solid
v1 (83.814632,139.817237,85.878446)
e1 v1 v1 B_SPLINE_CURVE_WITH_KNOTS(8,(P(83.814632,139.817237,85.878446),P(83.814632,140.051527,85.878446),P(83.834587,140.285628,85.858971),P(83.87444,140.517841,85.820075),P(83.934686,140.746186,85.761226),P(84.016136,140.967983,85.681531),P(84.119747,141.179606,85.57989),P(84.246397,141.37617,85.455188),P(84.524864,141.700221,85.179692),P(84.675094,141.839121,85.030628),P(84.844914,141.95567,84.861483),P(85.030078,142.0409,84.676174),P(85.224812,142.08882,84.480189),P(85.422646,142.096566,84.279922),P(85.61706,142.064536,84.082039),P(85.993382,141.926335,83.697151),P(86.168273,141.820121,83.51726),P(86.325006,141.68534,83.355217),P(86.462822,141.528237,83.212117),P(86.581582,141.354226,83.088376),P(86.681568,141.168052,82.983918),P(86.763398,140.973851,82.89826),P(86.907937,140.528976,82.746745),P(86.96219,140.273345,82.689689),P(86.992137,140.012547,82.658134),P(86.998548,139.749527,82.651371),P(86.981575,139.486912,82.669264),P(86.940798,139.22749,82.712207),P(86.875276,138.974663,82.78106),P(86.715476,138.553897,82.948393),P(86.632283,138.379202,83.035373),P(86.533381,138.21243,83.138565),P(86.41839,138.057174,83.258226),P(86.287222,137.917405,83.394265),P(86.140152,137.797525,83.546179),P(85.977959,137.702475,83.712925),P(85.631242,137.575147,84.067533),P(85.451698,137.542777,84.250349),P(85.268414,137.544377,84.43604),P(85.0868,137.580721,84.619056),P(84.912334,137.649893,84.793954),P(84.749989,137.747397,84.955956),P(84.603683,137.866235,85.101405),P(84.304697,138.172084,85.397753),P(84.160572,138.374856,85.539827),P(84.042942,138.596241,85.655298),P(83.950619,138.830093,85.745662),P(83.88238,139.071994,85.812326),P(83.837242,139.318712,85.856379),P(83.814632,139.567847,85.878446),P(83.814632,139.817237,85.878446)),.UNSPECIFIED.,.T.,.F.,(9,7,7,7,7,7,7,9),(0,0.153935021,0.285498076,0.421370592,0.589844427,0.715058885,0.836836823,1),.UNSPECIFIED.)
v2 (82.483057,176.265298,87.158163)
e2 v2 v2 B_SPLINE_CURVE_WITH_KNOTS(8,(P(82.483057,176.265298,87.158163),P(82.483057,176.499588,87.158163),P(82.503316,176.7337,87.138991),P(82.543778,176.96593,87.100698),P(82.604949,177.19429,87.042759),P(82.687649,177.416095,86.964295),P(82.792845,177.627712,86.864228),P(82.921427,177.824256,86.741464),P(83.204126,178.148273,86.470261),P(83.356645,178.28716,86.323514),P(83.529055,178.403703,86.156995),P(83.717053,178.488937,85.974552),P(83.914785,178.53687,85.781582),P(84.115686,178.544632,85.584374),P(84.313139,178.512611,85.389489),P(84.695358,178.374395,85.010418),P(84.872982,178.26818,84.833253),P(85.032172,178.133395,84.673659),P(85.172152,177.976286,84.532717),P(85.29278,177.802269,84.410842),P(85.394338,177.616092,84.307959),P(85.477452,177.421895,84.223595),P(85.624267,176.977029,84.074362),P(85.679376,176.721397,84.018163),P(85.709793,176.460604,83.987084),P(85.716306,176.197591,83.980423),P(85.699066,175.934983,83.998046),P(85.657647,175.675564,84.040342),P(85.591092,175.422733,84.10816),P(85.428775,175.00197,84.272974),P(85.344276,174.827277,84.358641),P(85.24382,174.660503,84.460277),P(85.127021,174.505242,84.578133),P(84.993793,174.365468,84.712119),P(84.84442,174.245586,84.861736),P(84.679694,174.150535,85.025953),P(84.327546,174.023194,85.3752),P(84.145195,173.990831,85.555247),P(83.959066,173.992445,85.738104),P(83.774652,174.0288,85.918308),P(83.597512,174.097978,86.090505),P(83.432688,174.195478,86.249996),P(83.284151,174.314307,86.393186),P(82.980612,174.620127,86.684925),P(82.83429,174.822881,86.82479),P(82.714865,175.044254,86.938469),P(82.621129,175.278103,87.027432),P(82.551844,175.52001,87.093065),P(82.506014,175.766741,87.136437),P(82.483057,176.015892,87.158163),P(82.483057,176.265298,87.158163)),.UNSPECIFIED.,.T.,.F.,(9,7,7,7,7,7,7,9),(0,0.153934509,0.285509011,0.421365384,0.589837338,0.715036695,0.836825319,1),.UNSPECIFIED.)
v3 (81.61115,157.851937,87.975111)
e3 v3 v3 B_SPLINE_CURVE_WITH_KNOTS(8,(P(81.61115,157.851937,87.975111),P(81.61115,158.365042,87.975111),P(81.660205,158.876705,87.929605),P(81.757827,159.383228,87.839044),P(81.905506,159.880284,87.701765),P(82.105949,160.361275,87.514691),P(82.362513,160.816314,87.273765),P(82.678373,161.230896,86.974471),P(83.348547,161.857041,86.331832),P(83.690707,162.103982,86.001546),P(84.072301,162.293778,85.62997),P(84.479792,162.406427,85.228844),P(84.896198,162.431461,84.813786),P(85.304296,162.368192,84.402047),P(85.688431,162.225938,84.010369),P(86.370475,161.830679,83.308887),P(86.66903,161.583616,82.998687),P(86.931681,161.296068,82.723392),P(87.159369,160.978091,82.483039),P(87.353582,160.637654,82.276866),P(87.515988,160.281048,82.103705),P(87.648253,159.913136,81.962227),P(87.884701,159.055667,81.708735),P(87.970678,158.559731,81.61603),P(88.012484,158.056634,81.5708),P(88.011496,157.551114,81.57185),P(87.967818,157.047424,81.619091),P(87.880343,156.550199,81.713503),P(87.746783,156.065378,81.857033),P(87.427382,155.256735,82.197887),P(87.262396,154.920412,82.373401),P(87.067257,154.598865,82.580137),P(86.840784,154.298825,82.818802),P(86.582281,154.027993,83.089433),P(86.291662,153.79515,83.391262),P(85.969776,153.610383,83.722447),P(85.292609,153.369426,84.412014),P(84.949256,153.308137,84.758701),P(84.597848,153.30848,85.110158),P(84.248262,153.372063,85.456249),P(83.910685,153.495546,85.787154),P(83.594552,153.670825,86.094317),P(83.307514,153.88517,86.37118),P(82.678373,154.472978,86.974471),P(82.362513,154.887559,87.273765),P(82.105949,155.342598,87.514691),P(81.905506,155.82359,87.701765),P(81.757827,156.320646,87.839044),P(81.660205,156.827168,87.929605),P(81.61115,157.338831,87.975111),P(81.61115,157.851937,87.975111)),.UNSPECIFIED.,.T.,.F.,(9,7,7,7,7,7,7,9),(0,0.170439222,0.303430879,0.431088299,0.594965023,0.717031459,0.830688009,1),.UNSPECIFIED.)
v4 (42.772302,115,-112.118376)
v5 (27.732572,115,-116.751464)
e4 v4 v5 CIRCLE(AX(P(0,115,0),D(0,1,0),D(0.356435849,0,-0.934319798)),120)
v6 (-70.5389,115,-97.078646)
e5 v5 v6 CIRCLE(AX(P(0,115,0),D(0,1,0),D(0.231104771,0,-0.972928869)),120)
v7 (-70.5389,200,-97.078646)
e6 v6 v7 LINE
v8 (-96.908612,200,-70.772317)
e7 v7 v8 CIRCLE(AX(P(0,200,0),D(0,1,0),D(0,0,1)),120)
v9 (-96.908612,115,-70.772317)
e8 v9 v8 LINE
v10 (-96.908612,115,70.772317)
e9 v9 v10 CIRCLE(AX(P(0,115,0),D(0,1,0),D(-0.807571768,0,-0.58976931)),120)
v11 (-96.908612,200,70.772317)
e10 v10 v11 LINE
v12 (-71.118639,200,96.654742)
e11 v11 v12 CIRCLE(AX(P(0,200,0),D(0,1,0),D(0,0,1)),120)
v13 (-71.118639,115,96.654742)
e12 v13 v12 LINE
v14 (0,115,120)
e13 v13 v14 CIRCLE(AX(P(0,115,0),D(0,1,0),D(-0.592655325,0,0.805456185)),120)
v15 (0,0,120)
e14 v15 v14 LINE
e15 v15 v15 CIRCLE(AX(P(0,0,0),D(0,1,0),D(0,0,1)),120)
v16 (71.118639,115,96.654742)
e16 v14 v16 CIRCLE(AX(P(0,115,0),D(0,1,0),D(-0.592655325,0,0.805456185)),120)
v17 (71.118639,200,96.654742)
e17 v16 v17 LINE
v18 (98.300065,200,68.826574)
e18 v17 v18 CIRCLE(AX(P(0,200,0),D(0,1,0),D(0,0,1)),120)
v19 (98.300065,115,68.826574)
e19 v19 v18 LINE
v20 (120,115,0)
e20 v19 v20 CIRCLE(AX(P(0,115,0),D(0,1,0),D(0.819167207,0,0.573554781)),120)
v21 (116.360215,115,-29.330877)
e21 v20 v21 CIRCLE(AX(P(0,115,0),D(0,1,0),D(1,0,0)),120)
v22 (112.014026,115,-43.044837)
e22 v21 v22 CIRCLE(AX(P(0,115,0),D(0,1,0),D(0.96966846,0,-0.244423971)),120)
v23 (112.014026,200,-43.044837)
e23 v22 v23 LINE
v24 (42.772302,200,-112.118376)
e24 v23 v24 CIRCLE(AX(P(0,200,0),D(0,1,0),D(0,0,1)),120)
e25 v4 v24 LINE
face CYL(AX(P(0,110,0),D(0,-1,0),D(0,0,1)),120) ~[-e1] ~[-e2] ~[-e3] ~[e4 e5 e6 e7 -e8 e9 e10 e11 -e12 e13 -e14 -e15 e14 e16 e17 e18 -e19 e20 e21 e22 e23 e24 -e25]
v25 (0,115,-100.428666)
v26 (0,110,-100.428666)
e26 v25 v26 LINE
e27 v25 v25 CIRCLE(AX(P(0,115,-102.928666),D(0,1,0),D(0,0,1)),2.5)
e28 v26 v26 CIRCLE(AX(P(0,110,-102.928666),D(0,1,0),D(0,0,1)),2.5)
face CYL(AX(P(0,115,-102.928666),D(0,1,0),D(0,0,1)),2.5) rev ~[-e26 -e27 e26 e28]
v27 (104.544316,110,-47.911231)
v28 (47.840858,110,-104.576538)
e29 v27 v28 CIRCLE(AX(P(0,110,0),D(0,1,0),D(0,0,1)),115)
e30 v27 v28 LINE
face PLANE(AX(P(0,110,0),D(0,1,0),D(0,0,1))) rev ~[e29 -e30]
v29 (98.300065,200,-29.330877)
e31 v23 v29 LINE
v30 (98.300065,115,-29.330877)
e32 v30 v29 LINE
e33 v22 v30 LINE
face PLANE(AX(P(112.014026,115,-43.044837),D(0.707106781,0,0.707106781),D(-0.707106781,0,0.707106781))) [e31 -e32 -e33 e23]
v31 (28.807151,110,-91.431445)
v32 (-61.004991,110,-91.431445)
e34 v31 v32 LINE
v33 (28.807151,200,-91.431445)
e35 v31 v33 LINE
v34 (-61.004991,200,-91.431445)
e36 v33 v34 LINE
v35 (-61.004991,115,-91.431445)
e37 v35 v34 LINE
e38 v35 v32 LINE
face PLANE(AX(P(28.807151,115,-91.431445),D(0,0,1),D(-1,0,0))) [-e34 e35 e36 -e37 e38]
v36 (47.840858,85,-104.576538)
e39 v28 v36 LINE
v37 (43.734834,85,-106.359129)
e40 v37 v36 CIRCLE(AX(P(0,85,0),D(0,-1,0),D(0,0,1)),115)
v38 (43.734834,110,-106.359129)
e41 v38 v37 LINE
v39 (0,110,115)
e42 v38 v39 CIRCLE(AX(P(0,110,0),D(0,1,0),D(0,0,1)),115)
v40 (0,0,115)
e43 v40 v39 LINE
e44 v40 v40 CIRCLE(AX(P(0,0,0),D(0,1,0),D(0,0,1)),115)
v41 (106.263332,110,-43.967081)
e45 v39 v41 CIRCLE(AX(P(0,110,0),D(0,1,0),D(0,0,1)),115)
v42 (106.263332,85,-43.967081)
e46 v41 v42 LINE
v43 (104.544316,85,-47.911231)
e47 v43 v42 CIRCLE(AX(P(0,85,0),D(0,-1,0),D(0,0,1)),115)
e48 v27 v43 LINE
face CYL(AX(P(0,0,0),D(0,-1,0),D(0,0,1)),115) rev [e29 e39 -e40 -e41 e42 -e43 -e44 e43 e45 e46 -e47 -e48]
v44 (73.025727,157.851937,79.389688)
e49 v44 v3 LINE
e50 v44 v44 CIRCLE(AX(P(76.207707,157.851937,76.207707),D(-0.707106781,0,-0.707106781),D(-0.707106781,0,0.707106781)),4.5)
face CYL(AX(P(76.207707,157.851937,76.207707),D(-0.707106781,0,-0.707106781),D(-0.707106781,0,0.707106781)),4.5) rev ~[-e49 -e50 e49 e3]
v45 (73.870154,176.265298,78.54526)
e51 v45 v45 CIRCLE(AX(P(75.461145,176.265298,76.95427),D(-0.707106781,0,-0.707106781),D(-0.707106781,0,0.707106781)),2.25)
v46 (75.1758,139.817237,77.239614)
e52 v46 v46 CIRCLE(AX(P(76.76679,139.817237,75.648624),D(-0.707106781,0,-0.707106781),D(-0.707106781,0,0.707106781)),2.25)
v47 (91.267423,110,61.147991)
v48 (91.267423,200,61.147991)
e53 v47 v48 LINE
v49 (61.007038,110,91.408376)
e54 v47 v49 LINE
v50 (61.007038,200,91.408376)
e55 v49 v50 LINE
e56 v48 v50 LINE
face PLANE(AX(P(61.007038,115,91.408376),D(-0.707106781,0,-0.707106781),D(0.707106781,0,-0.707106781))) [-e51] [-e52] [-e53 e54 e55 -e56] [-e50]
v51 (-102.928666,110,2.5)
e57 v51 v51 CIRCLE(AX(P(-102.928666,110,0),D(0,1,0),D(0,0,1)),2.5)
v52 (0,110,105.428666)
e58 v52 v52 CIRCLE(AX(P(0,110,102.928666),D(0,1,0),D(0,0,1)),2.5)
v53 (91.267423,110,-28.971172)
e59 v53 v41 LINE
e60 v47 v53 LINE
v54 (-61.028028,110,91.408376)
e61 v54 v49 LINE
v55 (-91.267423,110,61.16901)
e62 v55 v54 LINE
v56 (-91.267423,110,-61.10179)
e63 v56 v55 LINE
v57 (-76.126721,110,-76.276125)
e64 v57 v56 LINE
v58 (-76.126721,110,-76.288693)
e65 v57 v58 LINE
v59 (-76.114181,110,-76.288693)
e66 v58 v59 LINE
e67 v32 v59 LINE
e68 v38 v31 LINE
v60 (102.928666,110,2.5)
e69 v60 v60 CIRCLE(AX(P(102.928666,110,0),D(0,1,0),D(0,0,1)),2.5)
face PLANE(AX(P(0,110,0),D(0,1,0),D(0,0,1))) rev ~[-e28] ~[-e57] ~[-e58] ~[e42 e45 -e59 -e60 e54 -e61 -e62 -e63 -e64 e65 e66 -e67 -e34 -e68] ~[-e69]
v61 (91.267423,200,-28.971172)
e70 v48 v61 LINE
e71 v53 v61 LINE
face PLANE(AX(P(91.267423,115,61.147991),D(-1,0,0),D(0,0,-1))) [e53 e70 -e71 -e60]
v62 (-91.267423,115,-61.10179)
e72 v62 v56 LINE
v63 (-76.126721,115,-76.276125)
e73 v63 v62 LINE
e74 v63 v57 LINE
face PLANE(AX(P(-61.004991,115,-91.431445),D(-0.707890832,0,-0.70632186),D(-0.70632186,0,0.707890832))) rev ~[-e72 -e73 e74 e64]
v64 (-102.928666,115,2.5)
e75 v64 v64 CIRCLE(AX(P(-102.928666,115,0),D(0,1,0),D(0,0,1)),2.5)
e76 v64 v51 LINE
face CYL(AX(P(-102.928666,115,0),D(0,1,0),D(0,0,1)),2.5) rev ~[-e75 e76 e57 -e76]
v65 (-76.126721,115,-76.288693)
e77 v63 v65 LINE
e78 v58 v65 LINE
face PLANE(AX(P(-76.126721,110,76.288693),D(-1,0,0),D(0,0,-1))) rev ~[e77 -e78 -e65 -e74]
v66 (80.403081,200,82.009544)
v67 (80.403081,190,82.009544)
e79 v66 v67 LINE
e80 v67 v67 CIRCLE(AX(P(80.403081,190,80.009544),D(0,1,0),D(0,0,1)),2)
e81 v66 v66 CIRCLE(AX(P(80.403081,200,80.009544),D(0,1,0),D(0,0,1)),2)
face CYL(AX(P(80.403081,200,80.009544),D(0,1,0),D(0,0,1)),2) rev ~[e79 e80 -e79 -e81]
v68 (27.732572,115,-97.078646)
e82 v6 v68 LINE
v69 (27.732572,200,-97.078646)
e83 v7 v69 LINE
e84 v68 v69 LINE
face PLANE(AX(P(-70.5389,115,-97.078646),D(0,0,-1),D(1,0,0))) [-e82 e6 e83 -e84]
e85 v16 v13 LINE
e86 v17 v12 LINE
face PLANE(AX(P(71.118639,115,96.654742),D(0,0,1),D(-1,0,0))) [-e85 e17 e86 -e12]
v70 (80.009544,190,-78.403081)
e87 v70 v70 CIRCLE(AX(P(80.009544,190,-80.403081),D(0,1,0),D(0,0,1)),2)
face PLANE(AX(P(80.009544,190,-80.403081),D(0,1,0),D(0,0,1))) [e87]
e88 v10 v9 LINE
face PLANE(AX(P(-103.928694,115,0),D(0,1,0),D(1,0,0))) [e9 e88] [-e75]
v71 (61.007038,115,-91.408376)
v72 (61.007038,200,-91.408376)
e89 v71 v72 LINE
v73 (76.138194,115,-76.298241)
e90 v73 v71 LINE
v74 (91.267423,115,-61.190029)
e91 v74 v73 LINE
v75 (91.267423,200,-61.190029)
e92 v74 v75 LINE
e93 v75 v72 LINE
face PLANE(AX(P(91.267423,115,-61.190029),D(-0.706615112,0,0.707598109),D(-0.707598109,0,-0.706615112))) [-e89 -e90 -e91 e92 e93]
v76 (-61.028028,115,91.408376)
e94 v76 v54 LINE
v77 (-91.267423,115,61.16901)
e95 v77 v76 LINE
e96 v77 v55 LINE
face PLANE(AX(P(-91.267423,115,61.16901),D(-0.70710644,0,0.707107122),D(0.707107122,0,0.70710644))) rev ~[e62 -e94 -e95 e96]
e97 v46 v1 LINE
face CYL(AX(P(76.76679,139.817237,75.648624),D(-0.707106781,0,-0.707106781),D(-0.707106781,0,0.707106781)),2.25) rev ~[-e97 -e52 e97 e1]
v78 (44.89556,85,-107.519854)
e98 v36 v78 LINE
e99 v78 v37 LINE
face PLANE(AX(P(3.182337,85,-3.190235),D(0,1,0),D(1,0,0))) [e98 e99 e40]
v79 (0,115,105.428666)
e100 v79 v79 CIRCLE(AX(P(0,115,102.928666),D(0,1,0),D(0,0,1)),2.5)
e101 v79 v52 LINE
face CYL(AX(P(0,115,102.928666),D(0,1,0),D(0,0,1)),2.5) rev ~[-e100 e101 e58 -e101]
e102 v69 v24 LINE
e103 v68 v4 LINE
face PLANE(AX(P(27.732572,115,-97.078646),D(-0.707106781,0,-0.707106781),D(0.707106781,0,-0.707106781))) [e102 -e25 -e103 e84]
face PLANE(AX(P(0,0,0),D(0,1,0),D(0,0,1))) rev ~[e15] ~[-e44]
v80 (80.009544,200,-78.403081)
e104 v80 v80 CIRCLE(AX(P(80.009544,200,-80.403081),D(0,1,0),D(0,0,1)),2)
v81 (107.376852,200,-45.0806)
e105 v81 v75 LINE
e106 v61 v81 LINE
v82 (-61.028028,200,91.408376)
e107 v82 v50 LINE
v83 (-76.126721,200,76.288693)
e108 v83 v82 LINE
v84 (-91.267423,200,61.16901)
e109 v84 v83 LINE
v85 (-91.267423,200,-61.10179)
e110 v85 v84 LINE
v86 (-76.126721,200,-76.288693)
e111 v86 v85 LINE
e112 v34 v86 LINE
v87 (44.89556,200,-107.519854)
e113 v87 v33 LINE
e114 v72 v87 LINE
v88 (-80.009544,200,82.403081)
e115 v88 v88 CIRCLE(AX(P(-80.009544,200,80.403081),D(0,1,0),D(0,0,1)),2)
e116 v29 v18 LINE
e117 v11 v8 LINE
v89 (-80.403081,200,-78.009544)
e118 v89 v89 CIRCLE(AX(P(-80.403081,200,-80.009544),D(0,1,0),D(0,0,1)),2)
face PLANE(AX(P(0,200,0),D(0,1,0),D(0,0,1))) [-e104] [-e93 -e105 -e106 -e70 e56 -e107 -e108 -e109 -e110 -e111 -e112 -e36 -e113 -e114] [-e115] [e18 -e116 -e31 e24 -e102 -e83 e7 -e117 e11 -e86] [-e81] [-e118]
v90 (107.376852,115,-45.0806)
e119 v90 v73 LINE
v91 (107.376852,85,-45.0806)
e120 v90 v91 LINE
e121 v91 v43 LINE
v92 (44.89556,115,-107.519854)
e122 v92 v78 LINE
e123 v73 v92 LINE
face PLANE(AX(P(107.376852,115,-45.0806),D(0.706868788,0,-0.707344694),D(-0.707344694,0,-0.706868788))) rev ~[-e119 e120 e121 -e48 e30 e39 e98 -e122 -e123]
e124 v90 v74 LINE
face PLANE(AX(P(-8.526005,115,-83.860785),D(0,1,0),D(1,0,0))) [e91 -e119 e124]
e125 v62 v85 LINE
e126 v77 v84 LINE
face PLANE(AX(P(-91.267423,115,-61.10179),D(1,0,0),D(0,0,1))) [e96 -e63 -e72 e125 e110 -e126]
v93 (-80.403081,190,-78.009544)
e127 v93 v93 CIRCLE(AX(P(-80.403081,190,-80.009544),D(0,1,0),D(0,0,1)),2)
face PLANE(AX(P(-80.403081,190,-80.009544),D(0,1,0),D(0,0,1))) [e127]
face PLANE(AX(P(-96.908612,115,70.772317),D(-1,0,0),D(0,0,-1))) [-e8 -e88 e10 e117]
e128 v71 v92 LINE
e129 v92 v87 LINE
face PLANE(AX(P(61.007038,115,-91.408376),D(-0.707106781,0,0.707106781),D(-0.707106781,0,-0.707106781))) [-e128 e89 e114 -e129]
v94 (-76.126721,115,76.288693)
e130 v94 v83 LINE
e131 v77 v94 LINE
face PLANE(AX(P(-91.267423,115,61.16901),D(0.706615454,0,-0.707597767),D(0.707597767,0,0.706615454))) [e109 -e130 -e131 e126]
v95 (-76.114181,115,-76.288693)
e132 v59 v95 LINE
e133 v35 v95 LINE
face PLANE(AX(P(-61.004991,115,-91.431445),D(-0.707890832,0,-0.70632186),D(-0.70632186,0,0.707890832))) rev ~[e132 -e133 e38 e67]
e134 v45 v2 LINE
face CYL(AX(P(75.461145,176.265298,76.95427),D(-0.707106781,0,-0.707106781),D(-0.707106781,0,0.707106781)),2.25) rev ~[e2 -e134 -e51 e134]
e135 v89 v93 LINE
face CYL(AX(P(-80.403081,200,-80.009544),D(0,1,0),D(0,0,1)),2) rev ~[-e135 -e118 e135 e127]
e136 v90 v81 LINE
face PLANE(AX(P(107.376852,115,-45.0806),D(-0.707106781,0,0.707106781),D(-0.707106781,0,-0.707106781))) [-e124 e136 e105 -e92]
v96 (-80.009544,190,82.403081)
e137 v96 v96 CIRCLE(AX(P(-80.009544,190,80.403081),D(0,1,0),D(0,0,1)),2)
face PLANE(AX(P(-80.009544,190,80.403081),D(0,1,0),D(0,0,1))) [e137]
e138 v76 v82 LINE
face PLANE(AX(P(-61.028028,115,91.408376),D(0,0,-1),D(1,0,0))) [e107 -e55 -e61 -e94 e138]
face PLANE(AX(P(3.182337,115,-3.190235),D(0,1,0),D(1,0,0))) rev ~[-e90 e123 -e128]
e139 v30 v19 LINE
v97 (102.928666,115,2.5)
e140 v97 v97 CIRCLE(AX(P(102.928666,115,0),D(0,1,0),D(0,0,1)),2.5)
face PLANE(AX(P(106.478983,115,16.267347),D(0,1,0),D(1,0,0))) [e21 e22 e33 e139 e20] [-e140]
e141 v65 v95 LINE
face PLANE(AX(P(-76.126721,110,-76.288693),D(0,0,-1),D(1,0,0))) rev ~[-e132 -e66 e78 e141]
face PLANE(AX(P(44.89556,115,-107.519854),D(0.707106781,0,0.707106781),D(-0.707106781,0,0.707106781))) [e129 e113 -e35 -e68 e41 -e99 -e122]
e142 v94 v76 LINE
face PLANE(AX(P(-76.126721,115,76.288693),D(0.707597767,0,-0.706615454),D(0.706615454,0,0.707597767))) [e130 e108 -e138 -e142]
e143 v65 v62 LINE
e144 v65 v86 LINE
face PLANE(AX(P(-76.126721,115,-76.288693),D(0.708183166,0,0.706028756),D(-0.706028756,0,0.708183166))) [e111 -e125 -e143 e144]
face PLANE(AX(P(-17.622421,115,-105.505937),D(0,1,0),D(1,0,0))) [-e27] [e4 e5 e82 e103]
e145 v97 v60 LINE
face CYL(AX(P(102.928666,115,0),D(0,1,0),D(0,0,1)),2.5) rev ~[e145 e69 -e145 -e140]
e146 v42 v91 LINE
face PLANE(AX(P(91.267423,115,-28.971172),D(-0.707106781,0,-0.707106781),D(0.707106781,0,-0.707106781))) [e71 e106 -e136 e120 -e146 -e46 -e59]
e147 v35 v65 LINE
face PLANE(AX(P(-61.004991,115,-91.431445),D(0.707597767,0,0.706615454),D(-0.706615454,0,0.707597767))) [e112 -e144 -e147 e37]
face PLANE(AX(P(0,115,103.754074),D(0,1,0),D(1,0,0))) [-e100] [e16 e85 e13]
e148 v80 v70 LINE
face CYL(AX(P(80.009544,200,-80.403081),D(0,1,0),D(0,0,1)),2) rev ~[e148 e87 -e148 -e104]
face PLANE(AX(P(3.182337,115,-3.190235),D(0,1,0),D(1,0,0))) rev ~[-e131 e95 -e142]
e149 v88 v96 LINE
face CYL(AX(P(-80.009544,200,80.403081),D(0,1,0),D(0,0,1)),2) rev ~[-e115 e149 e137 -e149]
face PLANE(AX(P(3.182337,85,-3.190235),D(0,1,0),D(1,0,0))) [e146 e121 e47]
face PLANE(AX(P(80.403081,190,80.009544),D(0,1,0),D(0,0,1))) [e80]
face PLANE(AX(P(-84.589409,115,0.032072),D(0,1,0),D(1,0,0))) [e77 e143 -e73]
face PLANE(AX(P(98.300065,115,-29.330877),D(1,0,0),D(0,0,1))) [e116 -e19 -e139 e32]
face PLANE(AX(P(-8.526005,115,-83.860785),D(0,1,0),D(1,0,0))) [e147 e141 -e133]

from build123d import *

# Parameters (mm, degrees)
CROQUIS1_R              = 120
CROQUIS1_R_2            = 115
SALIENTE_EXTRUIR1_DEPTH = 110
CROQUIS2_R              = 120
CROQUIS2_W              = 152.253442708
CROQUIS2_H              = 152.577386202
SALIENTE_EXTRUIR2_DEPTH = 90
CORTAR_EXTRUIR1_START   = -85
CORTAR_EXTRUIR1_DEPTH   = 85
CORTAR_EXTRUIR2_DEPTH   = 30
CROQUIS5_R              = 2
CORTAR_EXTRUIR3_DEPTH   = 10
CROQUIS7_R              = 4.5
CORTAR_EXTRUIR4_DEPTH   = 343.045214483
CROQUIS8_R              = 2.25
CORTAR_EXTRUIR5_DEPTH   = 30
CROQUIS12_R             = 2.5
CORTAR_EXTRUIR7_DEPTH   = 15


with BuildPart() as part:
    # Croquis1 → Saliente-Extruir1 (new body)
    with BuildSketch(Plane(origin=(0, 0, 0), x_dir=(1, 0, 0), z_dir=(0, 1, 0))):
        with Locations(Location((0, 0, 0), (0, 0, 270))):
            Circle(CROQUIS1_R)
        with Locations(Location((0, 0, 0), (0, 0, 270))):
            Circle(CROQUIS1_R_2, mode=Mode.SUBTRACT)
    extrude(amount=SALIENTE_EXTRUIR1_DEPTH)

    # Croquis2 → Saliente-Extruir2 (add)
    with BuildSketch(Plane(origin=(0, 110, 0), x_dir=(1, 0, 0), z_dir=(0, 1, 0))):
        with Locations(Location((0, 0, 0), (0, 0, 270))):
            Circle(CROQUIS2_R)
        Rectangle(CROQUIS2_W, CROQUIS2_H, mode=Mode.SUBTRACT)
    extrude(amount=SALIENTE_EXTRUIR2_DEPTH)

    # Croquis3 → Cortar-Extruir1 (cut)
    with BuildSketch(Plane(origin=(0, 200, 0), x_dir=(1, 0, 0), z_dir=(0, 1, 0)).offset(CORTAR_EXTRUIR1_START)):
        Polygon((-45.841188947, 76.288693101), (43.949902098, 76.288693101), (28.807150506, 91.431444693), (-61.004991492, 91.431444693), align=None)
        Polygon((-91.267423391, -61.169009949), (-76.126721354, -46.007259807), (-76.126721354, 45.961058747), (-91.267423391, 61.101790004), align=None)
        Polygon((-61.028027907, -91.408376254), (61.007038201, -91.408376254), (45.887355048, -76.288693101), (-45.887325869, -76.288693101), align=None)
        Polygon((76.126721354, -46.007289027), (91.267423391, -61.147991064), (91.267423391, 28.971171808), (76.126721354, 44.111873845), align=None)
        with BuildLine():
            Line((98.300064852, 29.330876538), (98.300064852, -68.82657372))
            ThreePointArc((98.300064852, -68.82657372), (114.446511048, -36.083183186), (120, 0))
            ThreePointArc((120, 0), (119.08657738, 14.777925699), (116.360215201, 29.330876538))
            Line((116.360215201, 29.330876538), (98.300064852, 29.330876538))
        make_face()
        with BuildLine():
            Line((71.118639022, -96.654742169), (-71.118639022, -96.654742169))
            ThreePointArc((-71.118639022, -96.654742169), (0, -120), (71.118639022, -96.654742169))
        make_face()
        with BuildLine():
            Line((-96.908612184, -70.772317219), (-96.908612184, 70.772317219))
            ThreePointArc((-96.908612184, 70.772317219), (-120, 0), (-96.908612184, -70.772317219))
        make_face()
        with BuildLine():
            ThreePointArc((27.732572497, 116.751464328), (-23.555261835, 117.665413949), (-70.538900009, 97.078646393))
            Line((-70.538900009, 97.078646393), (27.732572497, 97.078646393))
            Line((27.732572497, 97.078646393), (27.732572497, 116.751464328))
        make_face()
        Polygon((76.126721354, 44.111873845), (91.267423391, 28.971171808), (107.376851904, 45.080600321), (91.267423391, 61.190028833), (61.007038201, 91.408376254), (44.895560134, 107.519854321), (28.807150506, 91.431444693), (43.949902098, 76.288693101), (76.126721354, 76.288693101), align=None)
        Polygon((61.007038201, -91.408376254), (76.126721354, -76.288693101), (45.887355048, -76.288693101), align=None)
        Polygon((76.126721354, -46.007289027), (76.126721354, -76.288693101), (91.267423391, -61.147991064), align=None)
        Polygon((-91.267423391, -61.169009949), (-76.126721354, -76.288693101), (-76.126721354, -46.007259807), align=None)
        Polygon((-76.126721354, -76.288693101), (-61.028027907, -91.408376254), (-45.887325869, -76.288693101), align=None)
        Polygon((-91.267423391, 61.101790004), (-76.126721354, 45.961058747), (-76.126721354, 76.288693101), align=None)
        Polygon((-76.126721354, 76.288693101), (-45.841188947, 76.288693101), (-61.004991492, 91.431444693), align=None)
        with BuildLine():
            Line((27.732572497, 116.751464328), (27.732572497, 97.078646393))
            Line((27.732572497, 97.078646393), (42.772301896, 112.118375793))
            ThreePointArc((42.772301896, 112.118375793), (35.32846877, 114.68173043), (27.732572497, 116.751464328))
        make_face()
        with BuildLine():
            ThreePointArc((116.360215201, 29.330876538), (114.392817368, 36.253045866), (112.014025768, 43.044837453))
            Line((112.014025768, 43.044837453), (98.300064852, 29.330876538))
            Line((98.300064852, 29.330876538), (116.360215201, 29.330876538))
        make_face()
    extrude(amount=CORTAR_EXTRUIR1_DEPTH, mode=Mode.SUBTRACT)

    # Croquis4 → Cortar-Extruir2 (cut)
    with BuildSketch(Plane(origin=(0, 115, 0), x_dir=(1, 0, 0), z_dir=(0, 1, 0))):
        Polygon((-91.267423391, 61.101790004), (-91.267423391, -61.169009949), (-61.028027907, -91.408376254), (61.007038201, -91.408376254), (91.267423391, -61.147991064), (91.267423391, 28.971171808), (107.376851904, 45.080600321), (44.895560134, 107.519854321), (28.807150506, 91.431444693), (-61.004991492, 91.431444693), align=None)
    extrude(amount=-CORTAR_EXTRUIR2_DEPTH, mode=Mode.SUBTRACT)

    # Croquis5 → Cortar-Extruir3 (cut)
    with BuildSketch(Plane(origin=(0, 200, 0), x_dir=(1, 0, 0), z_dir=(0, 1, 0))):
        with Locations(Location((80.009543849, 80.403081156, 0), (0, 0, 270))):
            Circle(CROQUIS5_R)
        with Locations(Location((-80.403081156, 80.009543849, 0), (0, 0, 270))):
            Circle(CROQUIS5_R)
        with Locations(Location((-80.009543849, -80.403081156, 0), (0, 0, 270))):
            Circle(CROQUIS5_R)
        with Locations(Location((80.403081156, -80.009543849, 0), (0, 0, 270))):
            Circle(CROQUIS5_R)
    extrude(amount=-CORTAR_EXTRUIR3_DEPTH, mode=Mode.SUBTRACT)

    # Croquis7 → Cortar-Extruir4 (cut, through all)
    with BuildSketch(Plane(origin=(76.207707227, 0, 76.207707227), x_dir=(-0.7071067811865415, 0, 0.7071067811865537), z_dir=(-0.7071067811865537, 0, -0.7071067811865415))):
        with Locations((0, 157.851936769)):
            Circle(CROQUIS7_R)
    extrude(amount=-CORTAR_EXTRUIR4_DEPTH, mode=Mode.SUBTRACT)

    # Croquis8 → Cortar-Extruir5 (cut)
    with BuildSketch(Plane(origin=(76.207707227, 0, 76.207707227), x_dir=(-0.7071067811865415, 0, 0.7071067811865537), z_dir=(-0.7071067811865537, 0, -0.7071067811865415))):
        with Locations((1.055799094, 176.265297527)):
            Circle(CROQUIS8_R)
        with Locations((-0.790662854, 139.817237098)):
            Circle(CROQUIS8_R)
    extrude(amount=-CORTAR_EXTRUIR5_DEPTH, mode=Mode.SUBTRACT)

    # Croquis12 → Cortar-Extruir7 (cut)
    with BuildSketch(Plane(origin=(0, 115, 0), x_dir=(1, 0, 0), z_dir=(0, 1, 0))):
        with Locations(Location((102.928666222, 0, 0), (0, 0, 270))):
            Circle(CROQUIS12_R)
        with Locations(Location((0, -102.928666222, 0), (0, 0, 270))):
            Circle(CROQUIS12_R)
        with Locations(Location((-102.928666222, 0, 0), (0, 0, 270))):
            Circle(CROQUIS12_R)
        with Locations(Location((0, 102.928666222, 0), (0, 0, 270))):
            Circle(CROQUIS12_R)
    extrude(amount=-CORTAR_EXTRUIR7_DEPTH, mode=Mode.SUBTRACT)


solid = part.part
